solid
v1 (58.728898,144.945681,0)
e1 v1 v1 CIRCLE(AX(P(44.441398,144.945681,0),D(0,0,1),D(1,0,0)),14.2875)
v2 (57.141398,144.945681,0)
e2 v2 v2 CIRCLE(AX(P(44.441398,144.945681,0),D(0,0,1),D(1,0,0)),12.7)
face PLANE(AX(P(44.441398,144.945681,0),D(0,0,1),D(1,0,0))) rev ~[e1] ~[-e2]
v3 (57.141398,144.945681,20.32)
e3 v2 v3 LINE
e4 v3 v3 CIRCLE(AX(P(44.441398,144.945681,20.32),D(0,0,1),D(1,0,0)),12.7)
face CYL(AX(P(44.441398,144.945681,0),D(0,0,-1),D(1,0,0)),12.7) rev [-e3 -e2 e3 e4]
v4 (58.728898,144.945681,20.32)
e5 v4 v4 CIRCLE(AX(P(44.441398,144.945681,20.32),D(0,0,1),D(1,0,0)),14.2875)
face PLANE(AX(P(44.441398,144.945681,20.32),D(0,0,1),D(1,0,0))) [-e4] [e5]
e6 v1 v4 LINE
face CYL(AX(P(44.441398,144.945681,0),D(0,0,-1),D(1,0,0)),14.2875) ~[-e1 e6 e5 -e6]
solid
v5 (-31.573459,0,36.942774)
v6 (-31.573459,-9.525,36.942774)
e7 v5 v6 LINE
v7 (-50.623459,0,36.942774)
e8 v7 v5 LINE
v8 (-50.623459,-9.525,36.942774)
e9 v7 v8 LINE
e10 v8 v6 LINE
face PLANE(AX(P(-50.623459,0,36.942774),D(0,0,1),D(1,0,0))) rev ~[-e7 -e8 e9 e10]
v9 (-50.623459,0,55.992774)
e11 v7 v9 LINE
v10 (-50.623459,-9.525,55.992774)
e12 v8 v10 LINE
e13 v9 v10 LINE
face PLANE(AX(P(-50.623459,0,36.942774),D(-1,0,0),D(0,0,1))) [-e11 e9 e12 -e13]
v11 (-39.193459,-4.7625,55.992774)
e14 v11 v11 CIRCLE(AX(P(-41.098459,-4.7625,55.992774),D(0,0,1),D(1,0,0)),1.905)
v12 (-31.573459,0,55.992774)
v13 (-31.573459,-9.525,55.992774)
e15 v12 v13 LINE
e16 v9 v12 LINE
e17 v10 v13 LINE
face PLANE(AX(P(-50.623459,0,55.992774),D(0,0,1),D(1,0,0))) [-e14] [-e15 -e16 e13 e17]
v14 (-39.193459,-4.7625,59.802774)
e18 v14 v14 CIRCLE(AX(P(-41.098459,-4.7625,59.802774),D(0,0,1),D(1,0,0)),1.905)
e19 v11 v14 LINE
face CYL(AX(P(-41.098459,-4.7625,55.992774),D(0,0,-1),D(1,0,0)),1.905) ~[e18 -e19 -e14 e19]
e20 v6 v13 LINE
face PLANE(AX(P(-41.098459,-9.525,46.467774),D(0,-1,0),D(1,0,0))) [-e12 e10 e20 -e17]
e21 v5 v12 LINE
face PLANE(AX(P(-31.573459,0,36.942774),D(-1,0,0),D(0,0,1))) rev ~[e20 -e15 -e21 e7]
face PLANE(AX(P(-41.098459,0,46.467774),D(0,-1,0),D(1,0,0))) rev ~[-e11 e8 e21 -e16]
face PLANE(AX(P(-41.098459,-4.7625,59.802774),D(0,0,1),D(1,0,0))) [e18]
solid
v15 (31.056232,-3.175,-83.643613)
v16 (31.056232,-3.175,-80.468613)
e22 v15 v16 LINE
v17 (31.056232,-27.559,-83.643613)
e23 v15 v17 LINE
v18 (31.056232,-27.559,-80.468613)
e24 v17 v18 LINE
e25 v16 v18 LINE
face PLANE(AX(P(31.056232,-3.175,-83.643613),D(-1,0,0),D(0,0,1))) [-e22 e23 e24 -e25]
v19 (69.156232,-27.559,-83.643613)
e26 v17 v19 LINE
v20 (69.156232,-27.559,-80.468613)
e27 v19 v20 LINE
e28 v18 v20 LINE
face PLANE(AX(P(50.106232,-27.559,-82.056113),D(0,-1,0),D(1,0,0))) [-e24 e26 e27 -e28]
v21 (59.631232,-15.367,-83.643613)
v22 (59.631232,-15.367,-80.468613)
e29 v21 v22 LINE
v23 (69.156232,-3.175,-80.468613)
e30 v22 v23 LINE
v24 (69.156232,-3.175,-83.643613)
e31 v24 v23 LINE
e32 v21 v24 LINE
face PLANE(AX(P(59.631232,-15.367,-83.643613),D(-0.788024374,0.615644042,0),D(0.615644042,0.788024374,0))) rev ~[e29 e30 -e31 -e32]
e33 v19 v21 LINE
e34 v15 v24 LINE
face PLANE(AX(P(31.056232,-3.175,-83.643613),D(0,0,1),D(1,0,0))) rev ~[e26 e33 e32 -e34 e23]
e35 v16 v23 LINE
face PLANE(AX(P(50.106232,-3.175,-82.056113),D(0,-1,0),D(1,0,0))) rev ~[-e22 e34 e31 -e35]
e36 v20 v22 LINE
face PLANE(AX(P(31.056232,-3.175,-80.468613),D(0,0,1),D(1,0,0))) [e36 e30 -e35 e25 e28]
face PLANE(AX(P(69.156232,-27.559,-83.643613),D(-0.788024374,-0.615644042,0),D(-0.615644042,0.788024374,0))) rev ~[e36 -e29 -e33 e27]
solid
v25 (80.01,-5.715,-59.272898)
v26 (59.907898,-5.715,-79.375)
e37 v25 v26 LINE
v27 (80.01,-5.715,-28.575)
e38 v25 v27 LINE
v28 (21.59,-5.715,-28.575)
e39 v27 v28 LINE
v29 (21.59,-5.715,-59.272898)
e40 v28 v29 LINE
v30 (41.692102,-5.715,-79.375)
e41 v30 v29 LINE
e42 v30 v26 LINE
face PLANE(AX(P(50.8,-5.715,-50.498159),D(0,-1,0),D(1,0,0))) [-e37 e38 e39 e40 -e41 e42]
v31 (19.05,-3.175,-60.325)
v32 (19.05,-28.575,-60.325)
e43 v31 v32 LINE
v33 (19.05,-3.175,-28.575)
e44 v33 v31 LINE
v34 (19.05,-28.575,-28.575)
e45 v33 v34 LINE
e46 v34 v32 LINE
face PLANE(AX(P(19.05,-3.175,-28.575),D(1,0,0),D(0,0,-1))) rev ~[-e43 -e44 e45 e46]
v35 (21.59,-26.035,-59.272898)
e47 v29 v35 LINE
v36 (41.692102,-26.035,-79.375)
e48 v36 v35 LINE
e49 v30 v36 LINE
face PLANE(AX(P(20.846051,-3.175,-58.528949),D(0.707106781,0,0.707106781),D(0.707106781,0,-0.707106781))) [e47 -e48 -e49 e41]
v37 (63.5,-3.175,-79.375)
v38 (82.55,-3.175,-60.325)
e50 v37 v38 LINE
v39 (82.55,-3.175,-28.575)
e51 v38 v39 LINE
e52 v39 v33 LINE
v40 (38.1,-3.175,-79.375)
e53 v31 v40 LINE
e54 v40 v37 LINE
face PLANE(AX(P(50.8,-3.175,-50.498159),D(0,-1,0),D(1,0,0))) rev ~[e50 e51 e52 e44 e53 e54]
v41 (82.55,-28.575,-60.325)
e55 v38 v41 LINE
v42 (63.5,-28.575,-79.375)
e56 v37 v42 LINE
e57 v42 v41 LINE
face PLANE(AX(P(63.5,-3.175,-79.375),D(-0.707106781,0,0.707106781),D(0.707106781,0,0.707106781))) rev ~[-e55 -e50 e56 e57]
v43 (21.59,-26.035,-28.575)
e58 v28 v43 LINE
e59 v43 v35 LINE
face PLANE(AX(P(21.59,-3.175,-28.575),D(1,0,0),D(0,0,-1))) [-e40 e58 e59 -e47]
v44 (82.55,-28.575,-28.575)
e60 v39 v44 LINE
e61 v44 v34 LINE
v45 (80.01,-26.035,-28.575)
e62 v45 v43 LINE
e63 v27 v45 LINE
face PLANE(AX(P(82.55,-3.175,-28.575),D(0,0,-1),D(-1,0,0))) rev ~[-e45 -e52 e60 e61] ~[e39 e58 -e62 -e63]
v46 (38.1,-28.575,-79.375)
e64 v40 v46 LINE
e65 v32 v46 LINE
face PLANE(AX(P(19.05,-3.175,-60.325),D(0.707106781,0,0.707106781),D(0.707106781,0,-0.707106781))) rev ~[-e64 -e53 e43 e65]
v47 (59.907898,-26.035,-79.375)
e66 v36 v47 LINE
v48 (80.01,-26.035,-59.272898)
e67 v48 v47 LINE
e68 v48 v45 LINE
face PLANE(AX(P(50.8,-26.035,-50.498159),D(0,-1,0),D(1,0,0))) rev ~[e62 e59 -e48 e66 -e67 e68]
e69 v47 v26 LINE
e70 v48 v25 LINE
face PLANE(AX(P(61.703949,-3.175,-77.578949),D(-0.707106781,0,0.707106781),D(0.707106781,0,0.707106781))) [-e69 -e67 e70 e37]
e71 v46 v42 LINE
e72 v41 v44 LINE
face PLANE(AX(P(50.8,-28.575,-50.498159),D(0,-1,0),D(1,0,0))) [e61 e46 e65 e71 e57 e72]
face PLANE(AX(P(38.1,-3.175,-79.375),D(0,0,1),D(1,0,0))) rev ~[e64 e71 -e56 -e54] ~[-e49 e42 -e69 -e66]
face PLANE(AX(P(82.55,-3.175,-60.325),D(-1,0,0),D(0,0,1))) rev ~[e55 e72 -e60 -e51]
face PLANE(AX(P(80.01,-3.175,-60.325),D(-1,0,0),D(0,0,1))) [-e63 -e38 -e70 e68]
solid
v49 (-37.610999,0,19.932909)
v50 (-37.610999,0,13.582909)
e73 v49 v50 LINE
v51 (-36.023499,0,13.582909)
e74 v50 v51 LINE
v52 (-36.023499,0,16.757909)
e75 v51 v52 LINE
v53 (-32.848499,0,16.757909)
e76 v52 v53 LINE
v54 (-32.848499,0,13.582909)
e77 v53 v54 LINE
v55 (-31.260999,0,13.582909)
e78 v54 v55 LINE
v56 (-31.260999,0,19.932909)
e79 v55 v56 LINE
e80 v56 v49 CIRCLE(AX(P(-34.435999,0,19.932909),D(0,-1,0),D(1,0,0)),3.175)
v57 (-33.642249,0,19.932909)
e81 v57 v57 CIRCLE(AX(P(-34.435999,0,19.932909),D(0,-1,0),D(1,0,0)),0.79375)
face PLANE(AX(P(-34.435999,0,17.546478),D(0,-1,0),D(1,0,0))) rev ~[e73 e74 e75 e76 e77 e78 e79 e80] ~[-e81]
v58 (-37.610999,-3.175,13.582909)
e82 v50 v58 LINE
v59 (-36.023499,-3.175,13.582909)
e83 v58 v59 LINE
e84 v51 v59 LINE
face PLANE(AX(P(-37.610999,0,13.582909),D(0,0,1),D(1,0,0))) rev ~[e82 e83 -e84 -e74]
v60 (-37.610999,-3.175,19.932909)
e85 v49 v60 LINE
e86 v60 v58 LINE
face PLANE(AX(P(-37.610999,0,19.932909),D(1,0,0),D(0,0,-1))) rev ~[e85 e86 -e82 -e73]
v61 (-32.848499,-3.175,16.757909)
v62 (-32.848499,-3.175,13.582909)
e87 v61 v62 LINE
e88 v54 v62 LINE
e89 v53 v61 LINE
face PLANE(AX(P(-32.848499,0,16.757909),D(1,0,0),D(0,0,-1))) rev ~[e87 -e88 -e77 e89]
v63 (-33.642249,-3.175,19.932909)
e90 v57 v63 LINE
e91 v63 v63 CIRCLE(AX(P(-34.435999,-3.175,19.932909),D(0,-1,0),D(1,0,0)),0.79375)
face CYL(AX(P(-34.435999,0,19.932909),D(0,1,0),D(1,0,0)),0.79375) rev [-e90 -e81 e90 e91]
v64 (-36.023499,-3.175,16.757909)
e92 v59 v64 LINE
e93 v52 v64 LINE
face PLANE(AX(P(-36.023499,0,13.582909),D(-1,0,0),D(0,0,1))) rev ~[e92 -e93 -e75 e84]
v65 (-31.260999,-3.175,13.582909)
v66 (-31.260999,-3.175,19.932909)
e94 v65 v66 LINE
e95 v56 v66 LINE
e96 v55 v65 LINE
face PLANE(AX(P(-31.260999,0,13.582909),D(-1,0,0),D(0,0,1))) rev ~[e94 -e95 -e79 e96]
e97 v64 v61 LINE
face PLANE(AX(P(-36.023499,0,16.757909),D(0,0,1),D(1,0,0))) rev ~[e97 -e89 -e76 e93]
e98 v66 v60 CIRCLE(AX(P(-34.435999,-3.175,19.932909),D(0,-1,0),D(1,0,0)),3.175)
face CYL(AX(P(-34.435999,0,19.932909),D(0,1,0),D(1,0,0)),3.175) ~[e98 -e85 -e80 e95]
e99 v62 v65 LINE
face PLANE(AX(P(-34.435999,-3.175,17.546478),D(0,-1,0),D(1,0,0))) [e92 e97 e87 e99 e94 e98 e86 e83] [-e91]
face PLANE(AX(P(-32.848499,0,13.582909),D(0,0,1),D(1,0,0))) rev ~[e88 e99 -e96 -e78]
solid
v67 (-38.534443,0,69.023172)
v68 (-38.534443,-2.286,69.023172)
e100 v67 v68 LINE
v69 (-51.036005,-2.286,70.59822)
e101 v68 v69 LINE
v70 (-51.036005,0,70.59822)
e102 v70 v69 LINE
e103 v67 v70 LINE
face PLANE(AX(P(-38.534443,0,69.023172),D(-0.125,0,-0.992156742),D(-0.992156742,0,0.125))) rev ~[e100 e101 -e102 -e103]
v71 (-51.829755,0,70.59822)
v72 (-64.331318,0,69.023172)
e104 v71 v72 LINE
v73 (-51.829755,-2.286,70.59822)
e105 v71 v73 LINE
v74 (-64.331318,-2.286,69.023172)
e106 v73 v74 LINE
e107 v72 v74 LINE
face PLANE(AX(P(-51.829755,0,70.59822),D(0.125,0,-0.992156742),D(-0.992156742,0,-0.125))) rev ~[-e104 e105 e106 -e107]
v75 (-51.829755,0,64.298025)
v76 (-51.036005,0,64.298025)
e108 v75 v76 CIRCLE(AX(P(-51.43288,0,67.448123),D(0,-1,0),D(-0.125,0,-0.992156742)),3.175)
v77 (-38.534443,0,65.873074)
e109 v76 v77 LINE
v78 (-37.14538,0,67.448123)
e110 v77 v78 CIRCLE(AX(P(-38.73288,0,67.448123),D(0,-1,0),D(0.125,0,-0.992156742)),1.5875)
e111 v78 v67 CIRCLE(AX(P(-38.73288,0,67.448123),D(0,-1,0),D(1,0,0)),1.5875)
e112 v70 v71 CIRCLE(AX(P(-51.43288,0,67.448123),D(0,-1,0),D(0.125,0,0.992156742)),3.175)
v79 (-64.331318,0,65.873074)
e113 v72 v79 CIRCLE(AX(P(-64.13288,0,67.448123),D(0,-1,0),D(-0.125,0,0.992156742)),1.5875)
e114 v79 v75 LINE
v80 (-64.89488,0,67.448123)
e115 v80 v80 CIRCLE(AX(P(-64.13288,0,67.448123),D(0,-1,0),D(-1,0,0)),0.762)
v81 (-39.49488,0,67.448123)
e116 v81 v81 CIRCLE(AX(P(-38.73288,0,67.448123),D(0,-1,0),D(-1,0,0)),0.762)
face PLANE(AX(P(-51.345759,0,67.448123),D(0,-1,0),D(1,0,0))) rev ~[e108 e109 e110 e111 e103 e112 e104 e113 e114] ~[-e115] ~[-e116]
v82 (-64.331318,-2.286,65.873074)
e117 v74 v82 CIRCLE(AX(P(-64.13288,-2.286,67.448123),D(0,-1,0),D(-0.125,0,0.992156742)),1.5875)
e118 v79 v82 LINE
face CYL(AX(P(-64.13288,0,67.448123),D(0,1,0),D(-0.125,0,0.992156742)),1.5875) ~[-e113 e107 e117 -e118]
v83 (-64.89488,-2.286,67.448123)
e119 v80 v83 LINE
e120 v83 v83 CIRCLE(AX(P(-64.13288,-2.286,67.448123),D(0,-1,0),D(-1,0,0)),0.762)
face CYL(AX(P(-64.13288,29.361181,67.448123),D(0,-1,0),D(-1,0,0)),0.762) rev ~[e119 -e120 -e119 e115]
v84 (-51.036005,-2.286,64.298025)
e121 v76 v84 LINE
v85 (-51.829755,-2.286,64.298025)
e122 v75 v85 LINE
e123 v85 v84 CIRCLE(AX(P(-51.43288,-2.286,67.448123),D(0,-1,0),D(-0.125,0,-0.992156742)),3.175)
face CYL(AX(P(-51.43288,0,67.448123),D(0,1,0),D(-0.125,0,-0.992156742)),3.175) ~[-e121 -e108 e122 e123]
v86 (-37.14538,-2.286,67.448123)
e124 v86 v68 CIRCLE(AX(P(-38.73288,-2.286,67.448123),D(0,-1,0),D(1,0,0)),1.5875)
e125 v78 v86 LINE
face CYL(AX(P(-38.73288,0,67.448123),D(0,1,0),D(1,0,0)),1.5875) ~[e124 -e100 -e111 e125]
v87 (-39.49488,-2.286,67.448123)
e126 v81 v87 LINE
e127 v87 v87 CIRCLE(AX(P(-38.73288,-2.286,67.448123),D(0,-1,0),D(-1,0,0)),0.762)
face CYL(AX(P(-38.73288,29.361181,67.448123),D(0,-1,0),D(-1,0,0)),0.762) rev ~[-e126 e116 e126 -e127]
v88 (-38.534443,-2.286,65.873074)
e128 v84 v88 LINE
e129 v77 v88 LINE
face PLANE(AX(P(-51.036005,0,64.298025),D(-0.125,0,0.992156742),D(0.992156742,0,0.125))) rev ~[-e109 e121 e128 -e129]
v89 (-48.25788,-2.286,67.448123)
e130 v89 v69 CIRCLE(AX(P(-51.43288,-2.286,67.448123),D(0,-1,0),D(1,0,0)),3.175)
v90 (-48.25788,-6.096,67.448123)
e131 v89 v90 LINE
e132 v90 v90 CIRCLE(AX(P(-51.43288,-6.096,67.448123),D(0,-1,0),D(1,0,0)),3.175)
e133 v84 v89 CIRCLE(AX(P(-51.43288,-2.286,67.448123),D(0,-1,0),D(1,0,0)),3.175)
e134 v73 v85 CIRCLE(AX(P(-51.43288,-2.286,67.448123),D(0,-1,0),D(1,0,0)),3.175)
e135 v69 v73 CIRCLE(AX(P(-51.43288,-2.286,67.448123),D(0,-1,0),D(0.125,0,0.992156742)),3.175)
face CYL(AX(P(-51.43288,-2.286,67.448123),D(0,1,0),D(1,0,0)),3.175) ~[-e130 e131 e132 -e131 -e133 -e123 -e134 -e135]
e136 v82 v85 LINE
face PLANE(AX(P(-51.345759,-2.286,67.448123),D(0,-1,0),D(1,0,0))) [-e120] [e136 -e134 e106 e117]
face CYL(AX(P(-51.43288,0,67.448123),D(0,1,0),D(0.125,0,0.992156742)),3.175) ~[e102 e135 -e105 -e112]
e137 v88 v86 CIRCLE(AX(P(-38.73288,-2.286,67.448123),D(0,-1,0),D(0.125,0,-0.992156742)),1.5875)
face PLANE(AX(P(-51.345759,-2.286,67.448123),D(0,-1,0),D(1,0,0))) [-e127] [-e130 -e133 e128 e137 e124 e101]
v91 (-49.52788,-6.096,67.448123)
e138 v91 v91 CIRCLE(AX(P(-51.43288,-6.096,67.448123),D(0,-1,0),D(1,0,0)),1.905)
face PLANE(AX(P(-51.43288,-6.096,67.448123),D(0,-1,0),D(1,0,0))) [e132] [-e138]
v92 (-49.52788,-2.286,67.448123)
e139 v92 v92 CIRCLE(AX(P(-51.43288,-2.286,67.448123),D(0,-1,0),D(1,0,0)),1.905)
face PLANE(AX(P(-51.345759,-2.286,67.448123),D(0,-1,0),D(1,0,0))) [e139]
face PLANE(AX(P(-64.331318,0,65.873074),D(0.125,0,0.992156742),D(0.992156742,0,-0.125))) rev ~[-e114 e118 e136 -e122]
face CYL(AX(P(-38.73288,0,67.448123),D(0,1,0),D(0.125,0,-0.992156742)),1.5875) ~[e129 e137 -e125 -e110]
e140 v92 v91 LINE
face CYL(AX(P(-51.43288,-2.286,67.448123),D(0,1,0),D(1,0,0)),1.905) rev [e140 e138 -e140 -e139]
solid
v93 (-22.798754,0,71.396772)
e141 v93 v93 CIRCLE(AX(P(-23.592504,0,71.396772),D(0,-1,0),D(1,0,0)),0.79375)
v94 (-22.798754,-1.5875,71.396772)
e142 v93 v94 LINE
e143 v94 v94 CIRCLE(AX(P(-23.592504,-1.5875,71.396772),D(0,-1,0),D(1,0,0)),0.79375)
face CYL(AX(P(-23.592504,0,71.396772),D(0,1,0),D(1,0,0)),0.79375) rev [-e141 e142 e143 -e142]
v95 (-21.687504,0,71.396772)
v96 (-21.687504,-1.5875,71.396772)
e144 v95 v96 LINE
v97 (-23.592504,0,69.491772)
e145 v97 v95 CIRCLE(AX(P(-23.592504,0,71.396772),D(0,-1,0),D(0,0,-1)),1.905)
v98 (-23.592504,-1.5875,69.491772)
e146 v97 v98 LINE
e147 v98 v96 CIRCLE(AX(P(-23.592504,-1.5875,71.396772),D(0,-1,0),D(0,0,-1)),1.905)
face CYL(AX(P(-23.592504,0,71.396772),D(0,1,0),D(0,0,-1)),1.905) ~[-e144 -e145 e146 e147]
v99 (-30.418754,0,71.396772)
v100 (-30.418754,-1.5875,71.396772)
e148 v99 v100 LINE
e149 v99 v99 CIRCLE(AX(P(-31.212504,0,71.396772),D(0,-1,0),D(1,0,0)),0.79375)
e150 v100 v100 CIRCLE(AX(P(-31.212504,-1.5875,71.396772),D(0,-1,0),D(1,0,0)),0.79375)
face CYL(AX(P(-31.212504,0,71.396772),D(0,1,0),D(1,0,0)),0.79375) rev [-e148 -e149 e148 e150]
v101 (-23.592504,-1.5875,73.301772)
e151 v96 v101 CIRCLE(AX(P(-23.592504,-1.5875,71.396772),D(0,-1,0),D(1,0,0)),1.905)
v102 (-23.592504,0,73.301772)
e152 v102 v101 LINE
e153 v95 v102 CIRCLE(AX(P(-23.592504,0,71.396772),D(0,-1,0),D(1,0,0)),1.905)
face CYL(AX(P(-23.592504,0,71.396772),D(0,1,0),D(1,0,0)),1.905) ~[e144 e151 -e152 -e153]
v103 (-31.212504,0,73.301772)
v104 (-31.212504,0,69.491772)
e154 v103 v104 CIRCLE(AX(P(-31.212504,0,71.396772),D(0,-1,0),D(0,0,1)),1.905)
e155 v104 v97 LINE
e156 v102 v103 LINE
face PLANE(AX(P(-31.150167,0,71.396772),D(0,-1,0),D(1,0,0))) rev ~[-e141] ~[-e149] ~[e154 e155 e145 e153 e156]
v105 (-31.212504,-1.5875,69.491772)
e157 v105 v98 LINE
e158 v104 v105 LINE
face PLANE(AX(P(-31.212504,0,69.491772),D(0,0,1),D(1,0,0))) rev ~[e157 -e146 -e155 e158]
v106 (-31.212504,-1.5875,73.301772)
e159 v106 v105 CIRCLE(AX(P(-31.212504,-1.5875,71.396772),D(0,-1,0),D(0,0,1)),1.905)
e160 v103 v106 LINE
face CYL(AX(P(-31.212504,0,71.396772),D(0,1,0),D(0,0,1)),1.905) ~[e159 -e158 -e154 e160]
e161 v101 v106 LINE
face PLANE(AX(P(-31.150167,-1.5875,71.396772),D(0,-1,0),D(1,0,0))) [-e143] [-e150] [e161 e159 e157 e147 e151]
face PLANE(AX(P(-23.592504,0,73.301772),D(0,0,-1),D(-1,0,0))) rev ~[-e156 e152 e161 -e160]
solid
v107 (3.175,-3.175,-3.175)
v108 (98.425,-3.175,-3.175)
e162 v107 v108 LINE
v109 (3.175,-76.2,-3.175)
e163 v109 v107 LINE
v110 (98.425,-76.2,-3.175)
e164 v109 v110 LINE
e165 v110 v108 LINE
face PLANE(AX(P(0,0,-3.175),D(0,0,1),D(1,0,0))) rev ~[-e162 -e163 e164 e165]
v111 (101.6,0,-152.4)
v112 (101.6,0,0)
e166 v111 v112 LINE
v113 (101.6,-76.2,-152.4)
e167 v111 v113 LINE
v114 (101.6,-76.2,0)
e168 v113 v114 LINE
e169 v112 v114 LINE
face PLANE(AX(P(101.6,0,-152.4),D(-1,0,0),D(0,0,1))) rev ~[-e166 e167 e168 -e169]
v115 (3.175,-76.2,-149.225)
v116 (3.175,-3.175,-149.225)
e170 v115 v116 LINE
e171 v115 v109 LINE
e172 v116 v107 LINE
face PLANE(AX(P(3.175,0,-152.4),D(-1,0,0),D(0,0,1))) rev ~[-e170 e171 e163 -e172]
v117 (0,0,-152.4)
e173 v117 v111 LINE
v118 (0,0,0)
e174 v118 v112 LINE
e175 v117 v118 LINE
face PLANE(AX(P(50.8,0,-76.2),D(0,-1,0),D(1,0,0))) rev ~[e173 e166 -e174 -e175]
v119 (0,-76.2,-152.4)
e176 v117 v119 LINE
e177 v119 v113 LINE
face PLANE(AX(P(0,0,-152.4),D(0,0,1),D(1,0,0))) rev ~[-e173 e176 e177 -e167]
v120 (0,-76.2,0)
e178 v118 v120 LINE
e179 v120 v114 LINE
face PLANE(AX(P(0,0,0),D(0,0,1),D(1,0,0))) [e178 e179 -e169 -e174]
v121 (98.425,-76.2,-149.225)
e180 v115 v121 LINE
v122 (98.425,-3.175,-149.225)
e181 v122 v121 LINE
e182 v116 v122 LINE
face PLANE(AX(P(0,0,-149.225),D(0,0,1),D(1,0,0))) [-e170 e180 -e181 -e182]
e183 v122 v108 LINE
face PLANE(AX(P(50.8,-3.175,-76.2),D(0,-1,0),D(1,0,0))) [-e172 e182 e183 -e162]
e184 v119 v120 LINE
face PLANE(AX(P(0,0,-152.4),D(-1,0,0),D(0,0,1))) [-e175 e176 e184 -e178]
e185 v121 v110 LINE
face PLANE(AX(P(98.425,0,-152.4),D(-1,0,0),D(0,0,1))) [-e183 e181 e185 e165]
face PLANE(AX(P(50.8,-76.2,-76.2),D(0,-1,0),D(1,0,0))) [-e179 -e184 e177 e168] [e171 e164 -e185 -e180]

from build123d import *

# Parameters (mm, degrees)
F0_W      = 101.6
F0_H      = 152.4
F1_DEPTH  = 76.2
F2_T      = -3.175
F4_DEPTH  = 25.4
F5_T      = -2.54
F6_W      = 38.1
F6_H      = 3.175
F7_DEPTH  = 24.384
F9_DEPTH  = 3.175
F10_R     = 14.2875
F10_R_2   = 12.7
F11_DEPTH = 20.32
F12_R     = 0.79375
F13_DEPTH = 3.175
F14_W     = 19.05
F14_H     = 19.05
F15_DEPTH = 9.525
F16_R     = 1.905
F17_DEPTH = 3.81
F19_DEPTH = 2.286
F20_D     = 1.524
F21_R     = 3.175
F21_R_2   = 1.905
F22_DEPTH = 3.81
F23_R     = 0.79375
F24_DEPTH = 1.5875


with BuildPart() as f1:
    # F0 (on Front) → F1 (new body)
    with BuildSketch(Plane.XZ):
        with Locations((50.8, -76.2)):
            Rectangle(F0_W, F0_H)
    extrude(amount=F1_DEPTH)

    # F2
    f2_openings = [f1.faces().sort_by_distance(p)[0] for p in [
        (50.8, -76.2, -76.2),
    ]]
    offset(amount=F2_T, openings=f2_openings)


with BuildPart() as f4:
    # F3 (on face) → F4 (new body)
    with BuildSketch(Plane.XZ.offset(3.175)):
        Polygon((82.55, -28.575), (19.05, -28.575), (19.05, -60.325), (38.1, -79.375), (63.5, -79.375), (82.55, -60.325), align=None)
    extrude(amount=F4_DEPTH)

    # F5
    f5_openings = [f4.faces().sort_by_distance(p)[0] for p in [
        (50.8, -15.875, -28.575),
        (50.8, -15.875, -79.375),
    ]]
    offset(amount=F5_T, openings=f5_openings)


with BuildPart() as f7:
    # F6 (on face) → F7 (new body)
    with BuildSketch(Plane.XZ.offset(3.175)):
        with Locations((50.1062323436, -82.0561125875)):
            Rectangle(F6_W, F6_H)
    extrude(amount=F7_DEPTH)

    # F8 (on face) → F9 (cut, through all)
    with BuildSketch(Plane(origin=(0, 0, -83.6436125875), x_dir=(1, 0, 0), z_dir=(0, 0, -1))):
        Polygon((69.1562323436, 3.175), (69.1562323436, 27.559), (59.6312323436, 15.367), align=None)
    extrude(amount=-F9_DEPTH, mode=Mode.SUBTRACT)


with BuildPart() as f11:
    # F10 (on Top) → F11 (new body)
    with BuildSketch(Plane.XY):
        with Locations((44.4413982332, 144.9456810951)):
            Circle(F10_R)
        with Locations((44.4413982332, 144.9456810951)):
            Circle(F10_R_2, mode=Mode.SUBTRACT)
    extrude(amount=F11_DEPTH)


with BuildPart() as f13:
    # F12 (on Front) → F13 (new body)
    with BuildSketch(Plane.XZ):
        with BuildLine():
            Line((-37.6109989196, 19.9329089373), (-37.6109989196, 13.5829089373))
            Line((-37.6109989196, 13.5829089373), (-36.0234989196, 13.5829089373))
            Line((-36.0234989196, 13.5829089373), (-36.0234989196, 16.7579089373))
            Line((-36.0234989196, 16.7579089373), (-32.8484989196, 16.7579089373))
            Line((-32.8484989196, 16.7579089373), (-32.8484989196, 13.5829089373))
            Line((-32.8484989196, 13.5829089373), (-31.2609989196, 13.5829089373))
            Line((-31.2609989196, 13.5829089373), (-31.2609989196, 19.9329089373))
            ThreePointArc((-31.2609989196, 19.9329089373), (-34.4359989196, 23.1079089373), (-37.6109989196, 19.9329089373))
        make_face()
        with Locations((-34.4359989196, 19.9329089373)):
            Circle(F12_R, mode=Mode.SUBTRACT)
    extrude(amount=F13_DEPTH)


with BuildPart() as f15:
    # F14 (on Front) → F15 (new body)
    with BuildSketch(Plane.XZ):
        with Locations((-41.0984594887, 46.4677736163)):
            Rectangle(F14_W, F14_H)
    extrude(amount=F15_DEPTH)

    # F16 (on face) → F17 (join)
    with BuildSketch(Plane.XY.offset(55.9927736163)):
        with Locations((-41.0984594887, -4.7625)):
            Circle(F16_R)
    extrude(amount=F17_DEPTH)


with BuildPart() as f19:
    # F18 (on Front) → F19 (new body)
    with BuildSketch(Plane.XZ):
        with BuildLine():
            ThreePointArc((-51.0360050717, 64.2980251566), (-49.0516300717, 65.3480577082), (-48.2578800717, 67.4481228114))
            ThreePointArc((-48.2578800717, 67.4481228114), (-49.0516300717, 69.5481879145), (-51.0360050717, 70.5982204661))
            ThreePointArc((-51.0360050717, 70.5982204661), (-51.4328800717, 70.6231228114), (-51.8297550717, 70.5982204661))
            ThreePointArc((-51.8297550717, 70.5982204661), (-54.6078800717, 67.4481228114), (-51.8297550717, 64.2980251566))
            ThreePointArc((-51.8297550717, 64.2980251566), (-51.4328800717, 64.2731228114), (-51.0360050717, 64.2980251566))
        make_face()
        with BuildLine():
            ThreePointArc((-51.0360050717, 70.5982204661), (-49.0516300717, 69.5481879145), (-48.2578800717, 67.4481228114))
            ThreePointArc((-48.2578800717, 67.4481228114), (-49.0516300717, 65.3480577082), (-51.0360050717, 64.2980251566))
            Line((-51.0360050717, 64.2980251566), (-38.5344425717, 65.873073984))
            ThreePointArc((-38.5344425717, 65.873073984), (-40.3203800717, 67.4481228114), (-38.5344425717, 69.0231716387))
            Line((-38.5344425717, 69.0231716387), (-51.0360050717, 70.5982204661))
        make_face()
        with BuildLine():
            ThreePointArc((-51.8297550717, 64.2980251566), (-54.6078800717, 67.4481228114), (-51.8297550717, 70.5982204661))
            Line((-51.8297550717, 70.5982204661), (-64.3313175717, 69.0231716387))
            ThreePointArc((-64.3313175717, 69.0231716387), (-63.0828475201, 68.6387478114), (-62.5453800717, 67.4481228114))
            ThreePointArc((-62.5453800717, 67.4481228114), (-63.0828475201, 66.2574978114), (-64.3313175717, 65.873073984))
            Line((-64.3313175717, 65.873073984), (-51.8297550717, 64.2980251566))
        make_face()
        with BuildLine():
            ThreePointArc((-37.1453800717, 67.4481228114), (-37.5422550717, 68.4981553629), (-38.5344425717, 69.0231716387))
            ThreePointArc((-38.5344425717, 69.0231716387), (-40.3203800717, 67.4481228114), (-38.5344425717, 65.873073984))
            ThreePointArc((-38.5344425717, 65.873073984), (-37.5422550717, 66.3980902598), (-37.1453800717, 67.4481228114))
        make_face()
        with BuildLine():
            ThreePointArc((-62.5453800717, 67.4481228114), (-63.0828475201, 68.6387478114), (-64.3313175717, 69.0231716387))
            ThreePointArc((-64.3313175717, 69.0231716387), (-65.7203800717, 67.4481228114), (-64.3313175717, 65.873073984))
            ThreePointArc((-64.3313175717, 65.873073984), (-63.0828475201, 66.2574978114), (-62.5453800717, 67.4481228114))
        make_face()
    extrude(amount=F19_DEPTH)

    # F20 (through all)
    with Locations(Plane(origin=(0, 0, 0), x_dir=(1, 0, 0), z_dir=(0, 1, 0))):
        with Locations((-64.1328800717, -67.4481228114), (-38.7328800717, -67.4481228114)):
            Hole(F20_D / 2)

    # F21 (on face) → F22 (join)
    with BuildSketch(Plane.XZ.offset(2.286)):
        with Locations((-51.4328800717, 67.4481228114)):
            Circle(F21_R)
        with Locations((-51.4328800717, 67.4481228114)):
            Circle(F21_R_2, mode=Mode.SUBTRACT)
    extrude(amount=F22_DEPTH)


with BuildPart() as f24:
    # F23 (on Front) → F24 (new body)
    with BuildSketch(Plane.XZ):
        with BuildLine():
            ThreePointArc((-31.2125041177, 69.491771592), (-29.8654656996, 70.0497331738), (-29.3075041177, 71.396771592))
            ThreePointArc((-29.3075041177, 71.396771592), (-29.8654656996, 72.7438100101), (-31.2125041177, 73.301771592))
            ThreePointArc((-31.2125041177, 73.301771592), (-33.1175041177, 71.396771592), (-31.2125041177, 69.491771592))
        make_face()
        with Locations((-31.2125041177, 71.396771592)):
            Circle(F23_R, mode=Mode.SUBTRACT)
        with BuildLine():
            ThreePointArc((-31.2125041177, 73.301771592), (-29.8654656996, 72.7438100101), (-29.3075041177, 71.396771592))
            ThreePointArc((-29.3075041177, 71.396771592), (-29.8654656996, 70.0497331738), (-31.2125041177, 69.491771592))
            Line((-31.2125041177, 69.491771592), (-23.5925041177, 69.491771592))
            ThreePointArc((-23.5925041177, 69.491771592), (-25.4975041177, 71.396771592), (-23.5925041177, 73.301771592))
            Line((-23.5925041177, 73.301771592), (-31.2125041177, 73.301771592))
        make_face()
        with BuildLine():
            ThreePointArc((-21.6875041177, 71.396771592), (-22.2454656996, 72.7438100101), (-23.5925041177, 73.301771592))
            ThreePointArc((-23.5925041177, 73.301771592), (-25.4975041177, 71.396771592), (-23.5925041177, 69.491771592))
            ThreePointArc((-23.5925041177, 69.491771592), (-22.2454656996, 70.0497331738), (-21.6875041177, 71.396771592))
        make_face()
        with Locations((-23.5925041177, 71.396771592)):
            Circle(F23_R, mode=Mode.SUBTRACT)
    extrude(amount=F24_DEPTH)


solid = Compound([f1.part, f4.part, f7.part, f11.part, f13.part, f15.part, f19.part, f24.part])
